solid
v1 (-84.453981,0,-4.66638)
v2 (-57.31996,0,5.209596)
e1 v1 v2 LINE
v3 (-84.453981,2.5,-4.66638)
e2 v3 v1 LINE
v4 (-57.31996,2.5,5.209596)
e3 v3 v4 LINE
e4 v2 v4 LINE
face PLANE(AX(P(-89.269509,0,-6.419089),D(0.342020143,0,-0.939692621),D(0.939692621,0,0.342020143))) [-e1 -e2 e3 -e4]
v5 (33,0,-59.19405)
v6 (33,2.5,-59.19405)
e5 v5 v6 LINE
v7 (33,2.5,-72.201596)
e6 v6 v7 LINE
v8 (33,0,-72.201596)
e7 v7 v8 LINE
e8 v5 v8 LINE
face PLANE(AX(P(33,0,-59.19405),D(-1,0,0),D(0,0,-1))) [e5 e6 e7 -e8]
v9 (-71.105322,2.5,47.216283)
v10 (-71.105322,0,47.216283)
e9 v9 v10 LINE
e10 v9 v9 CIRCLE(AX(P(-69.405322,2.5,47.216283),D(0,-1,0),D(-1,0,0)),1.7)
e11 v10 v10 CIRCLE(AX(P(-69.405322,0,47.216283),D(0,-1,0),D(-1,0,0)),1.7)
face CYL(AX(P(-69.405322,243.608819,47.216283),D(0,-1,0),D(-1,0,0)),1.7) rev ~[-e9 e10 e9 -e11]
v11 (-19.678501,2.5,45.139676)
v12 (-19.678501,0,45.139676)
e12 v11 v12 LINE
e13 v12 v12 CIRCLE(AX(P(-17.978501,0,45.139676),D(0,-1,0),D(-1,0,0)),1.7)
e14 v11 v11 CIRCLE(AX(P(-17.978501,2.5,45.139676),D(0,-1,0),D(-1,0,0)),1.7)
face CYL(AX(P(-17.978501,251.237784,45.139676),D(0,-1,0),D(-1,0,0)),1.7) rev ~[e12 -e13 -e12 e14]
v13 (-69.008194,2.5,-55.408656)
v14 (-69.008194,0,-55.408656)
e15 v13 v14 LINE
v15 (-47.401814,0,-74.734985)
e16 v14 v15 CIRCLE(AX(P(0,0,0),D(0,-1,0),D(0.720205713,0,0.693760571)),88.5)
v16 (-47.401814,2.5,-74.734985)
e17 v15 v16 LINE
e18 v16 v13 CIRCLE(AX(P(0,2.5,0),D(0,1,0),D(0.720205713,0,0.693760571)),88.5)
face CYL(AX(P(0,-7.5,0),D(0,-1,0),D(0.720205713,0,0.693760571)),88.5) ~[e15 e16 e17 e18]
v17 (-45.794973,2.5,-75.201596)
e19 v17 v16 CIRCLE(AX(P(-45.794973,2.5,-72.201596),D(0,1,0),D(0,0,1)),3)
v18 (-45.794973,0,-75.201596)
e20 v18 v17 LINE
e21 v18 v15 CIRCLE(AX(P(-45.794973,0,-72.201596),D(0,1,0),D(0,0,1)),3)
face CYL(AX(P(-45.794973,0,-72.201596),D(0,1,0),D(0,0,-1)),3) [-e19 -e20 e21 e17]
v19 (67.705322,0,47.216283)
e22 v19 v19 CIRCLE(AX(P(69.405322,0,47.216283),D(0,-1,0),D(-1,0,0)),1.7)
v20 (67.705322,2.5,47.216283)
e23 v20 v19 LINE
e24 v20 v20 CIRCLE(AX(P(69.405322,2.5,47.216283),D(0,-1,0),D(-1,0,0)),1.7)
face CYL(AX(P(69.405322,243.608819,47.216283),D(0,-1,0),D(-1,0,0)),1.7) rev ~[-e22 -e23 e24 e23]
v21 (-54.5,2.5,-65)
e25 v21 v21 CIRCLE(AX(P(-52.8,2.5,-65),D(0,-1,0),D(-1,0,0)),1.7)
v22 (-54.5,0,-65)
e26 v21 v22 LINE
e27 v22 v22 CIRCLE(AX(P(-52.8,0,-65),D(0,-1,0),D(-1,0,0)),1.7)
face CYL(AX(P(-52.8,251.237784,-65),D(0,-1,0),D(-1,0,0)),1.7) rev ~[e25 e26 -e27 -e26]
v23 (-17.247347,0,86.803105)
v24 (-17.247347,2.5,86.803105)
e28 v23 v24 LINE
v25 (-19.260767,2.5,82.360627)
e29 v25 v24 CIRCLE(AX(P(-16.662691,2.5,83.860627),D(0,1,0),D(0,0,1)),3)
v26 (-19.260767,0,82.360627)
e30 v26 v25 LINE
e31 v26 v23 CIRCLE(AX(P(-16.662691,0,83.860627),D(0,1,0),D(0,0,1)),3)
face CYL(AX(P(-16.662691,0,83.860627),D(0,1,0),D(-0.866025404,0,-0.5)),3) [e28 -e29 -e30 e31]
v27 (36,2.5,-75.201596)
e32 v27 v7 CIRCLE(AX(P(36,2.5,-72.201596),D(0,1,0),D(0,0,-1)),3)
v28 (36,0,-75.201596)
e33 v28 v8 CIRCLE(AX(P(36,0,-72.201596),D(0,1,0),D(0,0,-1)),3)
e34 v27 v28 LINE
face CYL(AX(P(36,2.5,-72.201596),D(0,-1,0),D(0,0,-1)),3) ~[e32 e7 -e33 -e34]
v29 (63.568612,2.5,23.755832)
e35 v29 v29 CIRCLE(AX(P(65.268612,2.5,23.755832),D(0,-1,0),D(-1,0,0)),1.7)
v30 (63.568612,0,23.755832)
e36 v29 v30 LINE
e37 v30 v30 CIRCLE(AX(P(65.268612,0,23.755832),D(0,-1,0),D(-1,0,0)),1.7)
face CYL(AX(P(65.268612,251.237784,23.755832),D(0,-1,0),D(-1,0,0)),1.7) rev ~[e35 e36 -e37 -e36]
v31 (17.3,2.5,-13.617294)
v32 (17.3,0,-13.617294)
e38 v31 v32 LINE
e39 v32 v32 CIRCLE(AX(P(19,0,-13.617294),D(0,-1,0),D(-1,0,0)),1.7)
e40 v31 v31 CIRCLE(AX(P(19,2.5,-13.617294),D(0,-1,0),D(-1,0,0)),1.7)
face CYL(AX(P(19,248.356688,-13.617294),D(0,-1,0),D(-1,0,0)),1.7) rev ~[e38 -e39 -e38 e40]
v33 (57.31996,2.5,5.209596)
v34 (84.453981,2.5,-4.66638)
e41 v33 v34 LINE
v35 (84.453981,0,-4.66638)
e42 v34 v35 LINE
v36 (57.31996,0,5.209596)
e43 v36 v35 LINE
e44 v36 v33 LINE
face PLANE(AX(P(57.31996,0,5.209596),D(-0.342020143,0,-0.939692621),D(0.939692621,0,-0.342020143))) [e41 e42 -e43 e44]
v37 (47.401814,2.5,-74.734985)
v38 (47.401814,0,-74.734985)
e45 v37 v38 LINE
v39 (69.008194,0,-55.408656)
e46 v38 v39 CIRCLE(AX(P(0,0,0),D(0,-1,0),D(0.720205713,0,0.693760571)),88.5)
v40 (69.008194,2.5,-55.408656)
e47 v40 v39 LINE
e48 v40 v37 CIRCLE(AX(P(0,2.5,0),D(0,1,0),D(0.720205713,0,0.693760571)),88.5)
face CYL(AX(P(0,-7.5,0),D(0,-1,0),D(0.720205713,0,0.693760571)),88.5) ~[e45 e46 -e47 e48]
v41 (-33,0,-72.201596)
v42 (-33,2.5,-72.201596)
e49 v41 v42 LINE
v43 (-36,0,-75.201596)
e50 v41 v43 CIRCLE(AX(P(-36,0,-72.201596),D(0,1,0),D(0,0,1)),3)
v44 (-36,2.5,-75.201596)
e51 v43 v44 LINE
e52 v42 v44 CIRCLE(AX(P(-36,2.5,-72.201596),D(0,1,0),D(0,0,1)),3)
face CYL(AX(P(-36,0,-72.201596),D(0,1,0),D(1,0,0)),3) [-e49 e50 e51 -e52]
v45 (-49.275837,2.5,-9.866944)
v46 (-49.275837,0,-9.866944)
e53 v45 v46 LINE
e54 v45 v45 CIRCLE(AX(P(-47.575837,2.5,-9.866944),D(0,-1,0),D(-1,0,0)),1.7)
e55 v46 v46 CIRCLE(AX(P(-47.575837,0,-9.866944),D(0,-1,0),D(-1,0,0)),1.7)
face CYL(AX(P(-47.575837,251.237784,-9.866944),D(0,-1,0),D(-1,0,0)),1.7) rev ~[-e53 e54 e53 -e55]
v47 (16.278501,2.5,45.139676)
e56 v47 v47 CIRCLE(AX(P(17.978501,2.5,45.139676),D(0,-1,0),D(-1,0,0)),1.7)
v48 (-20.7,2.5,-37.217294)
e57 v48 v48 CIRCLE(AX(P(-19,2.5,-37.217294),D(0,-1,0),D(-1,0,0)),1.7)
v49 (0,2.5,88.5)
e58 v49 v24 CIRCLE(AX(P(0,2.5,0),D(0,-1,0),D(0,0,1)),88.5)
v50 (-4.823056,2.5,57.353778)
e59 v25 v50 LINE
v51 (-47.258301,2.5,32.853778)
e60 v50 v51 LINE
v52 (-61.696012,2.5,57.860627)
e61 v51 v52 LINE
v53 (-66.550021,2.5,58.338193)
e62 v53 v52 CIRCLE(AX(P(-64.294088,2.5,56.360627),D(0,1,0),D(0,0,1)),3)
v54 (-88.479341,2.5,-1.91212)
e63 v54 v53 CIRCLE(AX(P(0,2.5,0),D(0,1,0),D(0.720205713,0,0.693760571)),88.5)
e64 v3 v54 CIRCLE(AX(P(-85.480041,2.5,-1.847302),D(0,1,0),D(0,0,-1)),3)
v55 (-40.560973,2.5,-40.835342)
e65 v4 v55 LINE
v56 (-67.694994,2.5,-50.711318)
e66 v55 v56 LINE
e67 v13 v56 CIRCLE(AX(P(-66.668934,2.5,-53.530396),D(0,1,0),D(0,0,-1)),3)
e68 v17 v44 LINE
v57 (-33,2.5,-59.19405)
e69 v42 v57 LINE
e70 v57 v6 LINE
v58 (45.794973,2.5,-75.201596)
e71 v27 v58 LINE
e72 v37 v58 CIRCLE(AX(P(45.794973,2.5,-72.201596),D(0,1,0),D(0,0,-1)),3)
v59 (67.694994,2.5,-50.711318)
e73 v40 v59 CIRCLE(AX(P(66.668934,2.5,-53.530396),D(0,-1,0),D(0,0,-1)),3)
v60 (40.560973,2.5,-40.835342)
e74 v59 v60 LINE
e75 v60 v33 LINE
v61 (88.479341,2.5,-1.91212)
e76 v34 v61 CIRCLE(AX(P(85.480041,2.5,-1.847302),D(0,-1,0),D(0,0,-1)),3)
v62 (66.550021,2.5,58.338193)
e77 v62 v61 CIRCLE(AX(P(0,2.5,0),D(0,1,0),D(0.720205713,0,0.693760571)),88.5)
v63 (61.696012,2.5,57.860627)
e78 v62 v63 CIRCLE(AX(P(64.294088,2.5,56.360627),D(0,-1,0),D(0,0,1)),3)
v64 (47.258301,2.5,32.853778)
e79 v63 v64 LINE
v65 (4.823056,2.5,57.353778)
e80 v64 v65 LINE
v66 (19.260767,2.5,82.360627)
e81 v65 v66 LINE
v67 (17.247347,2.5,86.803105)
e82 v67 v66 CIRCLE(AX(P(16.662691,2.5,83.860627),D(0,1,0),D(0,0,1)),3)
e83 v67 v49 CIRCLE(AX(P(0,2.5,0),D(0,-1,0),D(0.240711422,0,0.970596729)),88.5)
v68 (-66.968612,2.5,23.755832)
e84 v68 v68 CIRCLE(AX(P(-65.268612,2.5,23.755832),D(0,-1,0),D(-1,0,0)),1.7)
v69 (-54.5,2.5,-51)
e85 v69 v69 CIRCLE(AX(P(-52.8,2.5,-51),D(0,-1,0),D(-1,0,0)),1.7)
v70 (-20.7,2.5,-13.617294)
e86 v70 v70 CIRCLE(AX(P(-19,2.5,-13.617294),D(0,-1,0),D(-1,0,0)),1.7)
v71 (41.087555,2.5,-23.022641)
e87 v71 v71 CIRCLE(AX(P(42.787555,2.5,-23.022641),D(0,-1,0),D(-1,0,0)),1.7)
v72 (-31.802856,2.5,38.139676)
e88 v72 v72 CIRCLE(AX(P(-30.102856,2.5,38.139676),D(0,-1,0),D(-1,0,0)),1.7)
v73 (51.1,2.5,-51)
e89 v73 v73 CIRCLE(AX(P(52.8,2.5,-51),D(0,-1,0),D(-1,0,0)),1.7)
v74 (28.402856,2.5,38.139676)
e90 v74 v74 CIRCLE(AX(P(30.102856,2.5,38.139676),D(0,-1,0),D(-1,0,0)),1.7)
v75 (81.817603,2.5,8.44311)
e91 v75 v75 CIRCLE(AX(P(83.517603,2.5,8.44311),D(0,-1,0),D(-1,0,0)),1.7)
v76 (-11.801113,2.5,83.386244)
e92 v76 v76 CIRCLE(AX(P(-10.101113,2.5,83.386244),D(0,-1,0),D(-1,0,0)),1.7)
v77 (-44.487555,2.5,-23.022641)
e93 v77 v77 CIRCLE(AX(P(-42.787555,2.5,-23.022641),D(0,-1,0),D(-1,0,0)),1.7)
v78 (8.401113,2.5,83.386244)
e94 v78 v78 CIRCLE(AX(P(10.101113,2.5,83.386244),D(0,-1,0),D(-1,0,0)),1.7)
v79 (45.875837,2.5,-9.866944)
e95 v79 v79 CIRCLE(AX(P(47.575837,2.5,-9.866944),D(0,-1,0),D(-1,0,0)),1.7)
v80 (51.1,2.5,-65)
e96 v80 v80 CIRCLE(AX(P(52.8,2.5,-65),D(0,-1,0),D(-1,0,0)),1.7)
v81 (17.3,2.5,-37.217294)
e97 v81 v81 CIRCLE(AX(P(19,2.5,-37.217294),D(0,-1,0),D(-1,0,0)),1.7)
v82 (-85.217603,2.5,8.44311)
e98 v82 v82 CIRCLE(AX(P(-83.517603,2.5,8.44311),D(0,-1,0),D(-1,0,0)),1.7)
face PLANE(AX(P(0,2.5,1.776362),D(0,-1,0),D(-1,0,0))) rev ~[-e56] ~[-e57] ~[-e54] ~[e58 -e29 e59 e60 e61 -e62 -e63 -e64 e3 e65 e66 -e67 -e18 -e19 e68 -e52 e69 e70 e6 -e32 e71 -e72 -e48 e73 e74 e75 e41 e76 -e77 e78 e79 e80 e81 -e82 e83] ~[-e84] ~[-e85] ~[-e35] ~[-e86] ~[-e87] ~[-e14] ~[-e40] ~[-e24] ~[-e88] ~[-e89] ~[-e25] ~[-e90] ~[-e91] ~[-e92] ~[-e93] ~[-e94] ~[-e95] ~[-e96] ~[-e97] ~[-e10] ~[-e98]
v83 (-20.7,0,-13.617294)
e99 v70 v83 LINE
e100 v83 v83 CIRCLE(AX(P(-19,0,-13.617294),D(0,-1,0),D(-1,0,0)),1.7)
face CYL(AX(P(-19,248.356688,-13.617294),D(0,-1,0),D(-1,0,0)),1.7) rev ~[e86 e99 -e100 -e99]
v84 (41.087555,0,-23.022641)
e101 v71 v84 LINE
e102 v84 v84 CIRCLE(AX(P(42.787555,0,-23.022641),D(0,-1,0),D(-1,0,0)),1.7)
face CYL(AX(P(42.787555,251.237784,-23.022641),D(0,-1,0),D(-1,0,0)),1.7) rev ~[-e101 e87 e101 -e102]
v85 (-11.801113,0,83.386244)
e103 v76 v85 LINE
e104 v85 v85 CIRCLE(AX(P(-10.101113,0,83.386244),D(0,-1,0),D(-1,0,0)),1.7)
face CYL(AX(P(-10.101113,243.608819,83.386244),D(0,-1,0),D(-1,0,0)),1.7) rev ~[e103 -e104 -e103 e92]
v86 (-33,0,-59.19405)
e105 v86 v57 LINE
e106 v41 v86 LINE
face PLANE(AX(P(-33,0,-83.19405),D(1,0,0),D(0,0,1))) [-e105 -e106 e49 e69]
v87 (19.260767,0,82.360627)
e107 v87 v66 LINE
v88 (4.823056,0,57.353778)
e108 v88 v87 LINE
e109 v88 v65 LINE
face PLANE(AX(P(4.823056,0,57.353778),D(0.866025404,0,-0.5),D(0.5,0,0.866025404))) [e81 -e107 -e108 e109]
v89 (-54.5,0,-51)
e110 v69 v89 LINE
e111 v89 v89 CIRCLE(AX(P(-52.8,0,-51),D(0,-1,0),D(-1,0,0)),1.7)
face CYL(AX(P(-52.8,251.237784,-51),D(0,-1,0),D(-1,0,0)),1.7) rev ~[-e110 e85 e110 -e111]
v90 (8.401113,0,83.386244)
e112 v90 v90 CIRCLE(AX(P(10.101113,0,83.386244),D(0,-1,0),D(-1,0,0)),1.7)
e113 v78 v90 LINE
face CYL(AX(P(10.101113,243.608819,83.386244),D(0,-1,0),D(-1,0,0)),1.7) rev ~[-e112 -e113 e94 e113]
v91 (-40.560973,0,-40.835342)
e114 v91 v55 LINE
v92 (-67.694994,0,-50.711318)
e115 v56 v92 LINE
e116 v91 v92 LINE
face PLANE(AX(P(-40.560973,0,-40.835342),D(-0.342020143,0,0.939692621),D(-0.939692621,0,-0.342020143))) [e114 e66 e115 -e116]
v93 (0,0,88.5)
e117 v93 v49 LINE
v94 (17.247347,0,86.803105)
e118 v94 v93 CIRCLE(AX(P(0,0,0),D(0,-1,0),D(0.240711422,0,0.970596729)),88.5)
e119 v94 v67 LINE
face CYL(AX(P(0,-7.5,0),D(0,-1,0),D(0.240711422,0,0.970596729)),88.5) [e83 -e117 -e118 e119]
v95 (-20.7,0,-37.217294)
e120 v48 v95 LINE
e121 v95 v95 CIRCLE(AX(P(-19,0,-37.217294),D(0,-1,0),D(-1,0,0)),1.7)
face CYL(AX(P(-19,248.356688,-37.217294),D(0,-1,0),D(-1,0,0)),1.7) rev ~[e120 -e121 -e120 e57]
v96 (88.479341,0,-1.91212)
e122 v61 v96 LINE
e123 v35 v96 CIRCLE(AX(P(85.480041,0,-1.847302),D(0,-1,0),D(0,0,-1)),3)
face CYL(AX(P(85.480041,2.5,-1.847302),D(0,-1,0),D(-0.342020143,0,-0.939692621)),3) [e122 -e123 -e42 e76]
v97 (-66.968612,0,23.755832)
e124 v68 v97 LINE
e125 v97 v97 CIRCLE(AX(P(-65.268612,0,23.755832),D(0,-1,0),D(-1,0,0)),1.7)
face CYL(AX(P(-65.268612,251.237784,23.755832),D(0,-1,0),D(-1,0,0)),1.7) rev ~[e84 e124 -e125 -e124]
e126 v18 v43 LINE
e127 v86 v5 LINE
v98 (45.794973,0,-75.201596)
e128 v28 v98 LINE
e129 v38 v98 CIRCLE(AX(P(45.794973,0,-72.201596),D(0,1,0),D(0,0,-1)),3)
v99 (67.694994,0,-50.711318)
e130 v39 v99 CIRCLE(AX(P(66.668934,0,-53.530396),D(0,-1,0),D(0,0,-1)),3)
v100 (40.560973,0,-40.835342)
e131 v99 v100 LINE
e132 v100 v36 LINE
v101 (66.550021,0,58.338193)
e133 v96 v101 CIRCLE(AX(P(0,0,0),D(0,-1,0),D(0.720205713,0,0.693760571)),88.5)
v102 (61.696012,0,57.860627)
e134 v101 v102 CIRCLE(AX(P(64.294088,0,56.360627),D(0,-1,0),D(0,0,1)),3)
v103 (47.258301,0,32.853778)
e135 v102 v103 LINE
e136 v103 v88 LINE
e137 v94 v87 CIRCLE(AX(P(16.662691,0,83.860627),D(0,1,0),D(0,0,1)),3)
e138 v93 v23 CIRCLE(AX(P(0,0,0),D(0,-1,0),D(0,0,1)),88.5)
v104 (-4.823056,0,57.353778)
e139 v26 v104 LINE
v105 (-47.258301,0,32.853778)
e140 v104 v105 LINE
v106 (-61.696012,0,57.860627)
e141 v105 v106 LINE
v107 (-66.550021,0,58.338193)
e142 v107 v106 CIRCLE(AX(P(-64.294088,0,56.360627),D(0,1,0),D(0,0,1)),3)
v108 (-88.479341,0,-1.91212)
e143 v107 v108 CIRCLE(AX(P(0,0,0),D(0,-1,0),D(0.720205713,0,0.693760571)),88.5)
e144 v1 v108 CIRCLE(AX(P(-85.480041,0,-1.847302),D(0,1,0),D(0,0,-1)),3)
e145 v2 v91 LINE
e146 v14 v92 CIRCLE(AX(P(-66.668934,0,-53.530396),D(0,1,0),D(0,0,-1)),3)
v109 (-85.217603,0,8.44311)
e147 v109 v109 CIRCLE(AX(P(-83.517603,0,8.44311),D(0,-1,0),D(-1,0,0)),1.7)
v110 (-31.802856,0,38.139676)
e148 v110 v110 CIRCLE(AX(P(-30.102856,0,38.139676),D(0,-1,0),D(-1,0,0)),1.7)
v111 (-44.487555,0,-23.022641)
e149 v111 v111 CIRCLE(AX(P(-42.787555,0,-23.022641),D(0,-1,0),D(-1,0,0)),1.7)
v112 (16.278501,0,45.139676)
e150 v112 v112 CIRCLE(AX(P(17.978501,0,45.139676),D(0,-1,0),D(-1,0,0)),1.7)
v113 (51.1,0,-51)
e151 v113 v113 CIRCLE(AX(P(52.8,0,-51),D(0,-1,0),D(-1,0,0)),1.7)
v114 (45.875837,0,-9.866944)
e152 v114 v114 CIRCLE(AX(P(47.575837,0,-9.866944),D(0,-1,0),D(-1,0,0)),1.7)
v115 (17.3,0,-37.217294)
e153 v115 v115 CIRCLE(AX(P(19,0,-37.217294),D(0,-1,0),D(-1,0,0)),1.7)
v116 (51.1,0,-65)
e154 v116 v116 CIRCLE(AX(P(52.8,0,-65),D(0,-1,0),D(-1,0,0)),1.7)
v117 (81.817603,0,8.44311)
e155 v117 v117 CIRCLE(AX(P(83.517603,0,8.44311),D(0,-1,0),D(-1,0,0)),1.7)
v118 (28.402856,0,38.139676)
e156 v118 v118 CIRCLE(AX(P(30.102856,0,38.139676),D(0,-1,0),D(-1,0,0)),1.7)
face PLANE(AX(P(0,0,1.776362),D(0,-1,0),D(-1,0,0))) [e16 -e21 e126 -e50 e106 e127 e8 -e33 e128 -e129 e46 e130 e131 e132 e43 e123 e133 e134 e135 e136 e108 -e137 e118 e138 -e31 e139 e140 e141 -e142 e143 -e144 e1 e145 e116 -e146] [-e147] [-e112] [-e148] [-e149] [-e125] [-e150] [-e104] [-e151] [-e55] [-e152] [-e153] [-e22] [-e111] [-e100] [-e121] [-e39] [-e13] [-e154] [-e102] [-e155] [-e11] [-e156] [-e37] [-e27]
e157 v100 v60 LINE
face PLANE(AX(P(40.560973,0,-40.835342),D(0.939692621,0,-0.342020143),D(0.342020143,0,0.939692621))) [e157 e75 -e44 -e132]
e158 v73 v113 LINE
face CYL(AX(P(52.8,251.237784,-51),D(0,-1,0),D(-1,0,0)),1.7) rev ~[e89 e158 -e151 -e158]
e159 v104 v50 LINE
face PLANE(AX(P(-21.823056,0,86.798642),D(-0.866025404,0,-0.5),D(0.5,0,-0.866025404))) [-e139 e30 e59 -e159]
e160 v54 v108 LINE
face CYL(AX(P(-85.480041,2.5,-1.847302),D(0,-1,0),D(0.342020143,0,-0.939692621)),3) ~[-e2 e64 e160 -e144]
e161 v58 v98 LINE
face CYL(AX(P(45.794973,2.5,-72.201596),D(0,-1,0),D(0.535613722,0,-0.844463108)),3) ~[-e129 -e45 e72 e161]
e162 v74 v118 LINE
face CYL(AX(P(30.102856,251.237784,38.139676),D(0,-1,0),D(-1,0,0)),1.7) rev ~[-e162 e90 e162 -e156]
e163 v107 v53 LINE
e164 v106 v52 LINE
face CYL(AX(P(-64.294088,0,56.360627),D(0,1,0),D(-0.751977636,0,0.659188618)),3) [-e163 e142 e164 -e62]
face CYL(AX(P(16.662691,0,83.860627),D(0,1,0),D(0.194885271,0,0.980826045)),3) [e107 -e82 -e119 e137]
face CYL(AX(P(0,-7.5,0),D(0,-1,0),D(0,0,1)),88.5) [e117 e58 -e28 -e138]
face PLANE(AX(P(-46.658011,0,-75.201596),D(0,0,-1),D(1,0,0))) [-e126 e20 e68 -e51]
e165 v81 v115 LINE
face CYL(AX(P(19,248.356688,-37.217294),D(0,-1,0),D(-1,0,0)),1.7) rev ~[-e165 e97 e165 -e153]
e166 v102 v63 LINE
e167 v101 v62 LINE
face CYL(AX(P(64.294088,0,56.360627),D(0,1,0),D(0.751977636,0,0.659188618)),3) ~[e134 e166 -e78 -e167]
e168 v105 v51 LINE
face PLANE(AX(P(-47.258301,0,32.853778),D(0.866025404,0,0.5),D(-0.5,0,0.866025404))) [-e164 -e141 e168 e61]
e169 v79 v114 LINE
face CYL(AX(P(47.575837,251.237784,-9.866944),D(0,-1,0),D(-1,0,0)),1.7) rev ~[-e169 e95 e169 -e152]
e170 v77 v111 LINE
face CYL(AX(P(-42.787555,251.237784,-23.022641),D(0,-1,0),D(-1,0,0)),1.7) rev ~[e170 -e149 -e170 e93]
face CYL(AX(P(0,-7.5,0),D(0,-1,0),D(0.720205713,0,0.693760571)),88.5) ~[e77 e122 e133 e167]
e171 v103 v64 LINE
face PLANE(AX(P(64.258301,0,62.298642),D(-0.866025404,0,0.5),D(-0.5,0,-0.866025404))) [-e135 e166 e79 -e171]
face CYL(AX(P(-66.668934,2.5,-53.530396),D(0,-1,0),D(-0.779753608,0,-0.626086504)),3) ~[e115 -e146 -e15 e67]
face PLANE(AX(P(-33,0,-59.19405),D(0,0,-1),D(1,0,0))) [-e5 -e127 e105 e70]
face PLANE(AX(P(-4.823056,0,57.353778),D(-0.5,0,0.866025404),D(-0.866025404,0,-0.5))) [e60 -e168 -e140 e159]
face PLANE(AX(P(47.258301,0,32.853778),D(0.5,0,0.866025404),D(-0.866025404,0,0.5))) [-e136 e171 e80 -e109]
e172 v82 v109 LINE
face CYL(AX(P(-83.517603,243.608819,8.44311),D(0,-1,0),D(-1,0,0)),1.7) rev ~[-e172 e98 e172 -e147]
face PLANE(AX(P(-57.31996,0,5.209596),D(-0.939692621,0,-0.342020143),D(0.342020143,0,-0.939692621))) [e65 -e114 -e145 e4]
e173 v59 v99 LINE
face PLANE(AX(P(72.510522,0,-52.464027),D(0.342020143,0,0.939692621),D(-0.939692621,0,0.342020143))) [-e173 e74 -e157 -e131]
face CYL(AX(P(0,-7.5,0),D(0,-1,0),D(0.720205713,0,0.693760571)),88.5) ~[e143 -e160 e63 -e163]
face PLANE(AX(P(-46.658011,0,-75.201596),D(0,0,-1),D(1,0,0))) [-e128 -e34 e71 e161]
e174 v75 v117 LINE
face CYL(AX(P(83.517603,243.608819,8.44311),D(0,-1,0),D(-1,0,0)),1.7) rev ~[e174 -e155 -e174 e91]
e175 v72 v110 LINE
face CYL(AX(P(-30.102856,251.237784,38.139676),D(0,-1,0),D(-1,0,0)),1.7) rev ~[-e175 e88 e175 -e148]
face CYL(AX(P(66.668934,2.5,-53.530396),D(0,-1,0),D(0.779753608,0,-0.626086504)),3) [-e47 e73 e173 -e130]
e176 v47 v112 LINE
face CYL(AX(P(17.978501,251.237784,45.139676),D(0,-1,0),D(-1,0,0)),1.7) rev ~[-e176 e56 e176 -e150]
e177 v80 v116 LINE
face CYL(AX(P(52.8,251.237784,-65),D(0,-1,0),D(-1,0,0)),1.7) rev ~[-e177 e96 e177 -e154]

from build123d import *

# Parameters (mm, degrees)
CUTOFF_PROFILE_DEPTH = 2.5
FLANGED_HOLES_D      = 3.4
EXCESS_START         = -10
EXCESS_CUT_DEPTH     = 10
M3_CLEARANCE_HOLE1_D = 3.4
FILLET1_R            = 3
CUT_EXTRUDE2_START   = -2.5
CUT_EXTRUDE2_DEPTH   = 2.5
FILLET2_R            = 3
M3_CLEARANCE_HOLE2_D = 3.4


with BuildPart() as part:
    # Sketch1 → cutoff profile (new body)
    with BuildSketch(Plane(origin=(0, 0, 0), x_dir=(1, 0, 0), z_dir=(0, 1, 0))):
        with BuildLine():
            Line((-33, 83.194050268), (-33, 59.194050268))
            Line((-33, 59.194050268), (33, 59.194050268))
            Line((33, 59.194050268), (33, 83.194050268))
            ThreePointArc((33, 83.194050268), (54.947257978, 70.647355511), (72.510522323, 52.464027222))
            Line((72.510522323, 52.464027222), (40.560973217, 40.835342349))
            Line((40.560973217, 40.835342349), (57.31996024, -5.209596069))
            Line((57.31996024, -5.209596069), (89.269509346, 6.419088804))
            ThreePointArc((89.269509346, 6.419088804), (84.10248956, -30.610802828), (64.258300826, -62.298641839))
            Line((64.258300826, -62.298641839), (47.258300826, -32.85377811))
            Line((47.258300826, -32.85377811), (4.823056041, -57.35377811))
            Line((4.823056041, -57.35377811), (21.823056041, -86.798641839))
            ThreePointArc((21.823056041, -86.798641839), (0, -89.5), (-21.823056041, -86.798641839))
            Line((-21.823056041, -86.798641839), (-4.823056041, -57.35377811))
            Line((-4.823056041, -57.35377811), (-47.258300826, -32.85377811))
            Line((-47.258300826, -32.85377811), (-64.258300826, -62.298641839))
            ThreePointArc((-64.258300826, -62.298641839), (-84.10248956, -30.610802828), (-89.269509346, 6.419088804))
            Line((-89.269509346, 6.419088804), (-57.31996024, -5.209596069))
            Line((-57.31996024, -5.209596069), (-40.560973217, 40.835342349))
            Line((-40.560973217, 40.835342349), (-72.510522323, 52.464027222))
            ThreePointArc((-72.510522323, 52.464027222), (-54.947257978, 70.647355511), (-33, 83.194050268))
        make_face()
    extrude(amount=CUTOFF_PROFILE_DEPTH)

    # flanged holes (through all)
    with Locations(Plane(origin=(0, 2.5, 0), x_dir=(1, 0, 0), z_dir=(0, 1, 0))):
        with Locations((52.8, 65), (-17.978500607, -45.139676495), (-47.575837248, 9.866944221), (-30.10285626, -38.139676495), (-42.787555242, 23.022640912), (17.978500607, -45.139676495), (30.10285626, -38.139676495), (47.575837248, 9.866944221), (42.787555242, 23.022640912), (65.268611951, -23.755831982), (-65.268611951, -23.755831982), (-52.8, 51), (52.8, 51), (-52.8, 65)):
            Hole(FLANGED_HOLES_D / 2)

    # Sketch5 → excess cut (cut)
    with BuildSketch(Plane(origin=(0, 2.5, 0), x_dir=(1, 0, 0), z_dir=(0, 1, 0)).offset(EXCESS_START)):
        with BuildLine():
            ThreePointArc((21.302960858, -85.897810558), (10.730651555, -87.847043873), (0, -88.5))
            ThreePointArc((0, -88.5), (-10.730651555, -87.847043873), (-21.302960858, -85.897810558))
            Line((-21.302960858, -85.897810558), (-21.823056041, -86.798641839))
            ThreePointArc((-21.823056041, -86.798641839), (0, -89.5), (21.823056041, -86.798641839))
            Line((21.823056041, -86.798641839), (21.302960858, -85.897810558))
        make_face()
        with BuildLine():
            ThreePointArc((-64.258300826, -62.298641839), (0, 89.5), (64.258300826, -62.298641839))
            Line((64.258300826, -62.298641839), (63.738205644, -61.397810558))
            ThreePointArc((63.738205644, -61.397810558), (0, 88.5), (-63.738205644, -61.397810558))
            Line((-63.738205644, -61.397810558), (-64.258300826, -62.298641839))
        make_face()
    extrude(amount=EXCESS_CUT_DEPTH, mode=Mode.SUBTRACT)

    # M3 Clearance Hole1 (through all)
    with Locations(Plane(origin=(0, 2.5, 0), x_dir=(1, 0, 0), z_dir=(0, 1, 0))):
        with Locations((19, 37.217294159), (-19, 13.617294159), (-19, 37.217294159), (19, 13.617294159)):
            Hole(M3_CLEARANCE_HOLE1_D / 2)

    # Fillet1
    fillet1_edges = [part.edges().sort_by_distance(p)[0] for p in [
        (-21.302960858, 1.25, 85.897810558),
        (21.302960858, 1.25, 85.897810558),
        (-63.738205644, 1.25, 61.397810558),
        (-88.292050136, 1.25, -6.063322746),
        (88.292050136, 1.25, -6.063322746),
        (33, 1.25, -82.117294159),
        (-33, 1.25, -82.117294159),
        (-71.533063113, 1.25, -52.108261165),
        (71.533063113, 1.25, -52.108261165),
        (63.738205644, 1.25, 61.397810558),
    ]]
    fillet(fillet1_edges, radius=FILLET1_R)

    # Sketch9 → Cut-Extrude2 (cut)
    with BuildSketch(Plane(origin=(0, 2.5, 0), x_dir=(1, 0, 0), z_dir=(0, 1, 0)).offset(CUT_EXTRUDE2_START)):
        with BuildLine():
            ThreePointArc((-37.263157895, 80.27270435), (-36.646789817, 80.481043276), (-36, 80.551595728))
            ThreePointArc((-36, 80.551595728), (-33.878679656, 79.672916072), (-33, 77.551595728))
            Line((-33, 77.551595728), (-33, 75.201595728))
            Line((-33, 75.201595728), (33, 75.201595728))
            Line((33, 75.201595728), (33, 77.551595728))
            ThreePointArc((33, 77.551595728), (34.385917239, 80.08037742), (37.263157895, 80.27270435))
            ThreePointArc((37.263157895, 80.27270435), (42.037122726, 77.878946532), (46.658011101, 75.201595728))
            Line((46.658011101, 75.201595728), (56.845139831, 75.201595728))
            Line((56.845139831, 75.201595728), (56.845139831, 82.959992601))
            Line((56.845139831, 82.959992601), (-46.658011101, 82.959992601))
            Line((-46.658011101, 82.959992601), (-46.658011101, 75.201595728))
            ThreePointArc((-46.658011101, 75.201595728), (-42.037122726, 77.878946532), (-37.263157895, 80.27270435))
        make_face()
        with BuildLine():
            Line((-36, 75.201595728), (-36, 80.551595728))
            ThreePointArc((-36, 80.551595728), (-36.646789817, 80.481043276), (-37.263157895, 80.27270435))
            ThreePointArc((-37.263157895, 80.27270435), (-42.037122726, 77.878946532), (-46.658011101, 75.201595728))
            Line((-46.658011101, 75.201595728), (-36, 75.201595728))
        make_face()
        with BuildLine():
            ThreePointArc((-33, 77.551595728), (-33.878679656, 79.672916072), (-36, 80.551595728))
            Line((-36, 80.551595728), (-36, 75.201595728))
            Line((-36, 75.201595728), (-33, 75.201595728))
            Line((-33, 75.201595728), (-33, 77.551595728))
        make_face()
        with BuildLine():
            Line((33, 77.551595728), (33, 75.201595728))
            Line((33, 75.201595728), (46.658011101, 75.201595728))
            ThreePointArc((46.658011101, 75.201595728), (42.037122726, 77.878946532), (37.263157895, 80.27270435))
            ThreePointArc((37.263157895, 80.27270435), (34.385917239, 80.08037742), (33, 77.551595728))
        make_face()
    extrude(amount=CUT_EXTRUDE2_DEPTH, mode=Mode.SUBTRACT)

    # Fillet2
    fillet2_edges = [part.edges().sort_by_distance(p)[0] for p in [
        (-33, 1.25, -75.201595728),
        (-46.658011101, 1.25, -75.201595728),
        (33, 1.25, -75.201595728),
        (46.658011101, 1.25, -75.201595728),
    ]]
    fillet(fillet2_edges, radius=FILLET2_R)

    # M3 Clearance Hole2 (through all)
    with Locations(Plane(origin=(0, 2.5, 0), x_dir=(1, 0, 0), z_dir=(0, 1, 0))):
        with Locations((83.517603132, -8.443110213), (-69.405322414, -47.216282822), (-83.517603132, -8.443110213), (10.101112813, -83.386243549), (-10.101112813, -83.386243549), (69.405322414, -47.216282822)):
            Hole(M3_CLEARANCE_HOLE2_D / 2)


solid = part.part
